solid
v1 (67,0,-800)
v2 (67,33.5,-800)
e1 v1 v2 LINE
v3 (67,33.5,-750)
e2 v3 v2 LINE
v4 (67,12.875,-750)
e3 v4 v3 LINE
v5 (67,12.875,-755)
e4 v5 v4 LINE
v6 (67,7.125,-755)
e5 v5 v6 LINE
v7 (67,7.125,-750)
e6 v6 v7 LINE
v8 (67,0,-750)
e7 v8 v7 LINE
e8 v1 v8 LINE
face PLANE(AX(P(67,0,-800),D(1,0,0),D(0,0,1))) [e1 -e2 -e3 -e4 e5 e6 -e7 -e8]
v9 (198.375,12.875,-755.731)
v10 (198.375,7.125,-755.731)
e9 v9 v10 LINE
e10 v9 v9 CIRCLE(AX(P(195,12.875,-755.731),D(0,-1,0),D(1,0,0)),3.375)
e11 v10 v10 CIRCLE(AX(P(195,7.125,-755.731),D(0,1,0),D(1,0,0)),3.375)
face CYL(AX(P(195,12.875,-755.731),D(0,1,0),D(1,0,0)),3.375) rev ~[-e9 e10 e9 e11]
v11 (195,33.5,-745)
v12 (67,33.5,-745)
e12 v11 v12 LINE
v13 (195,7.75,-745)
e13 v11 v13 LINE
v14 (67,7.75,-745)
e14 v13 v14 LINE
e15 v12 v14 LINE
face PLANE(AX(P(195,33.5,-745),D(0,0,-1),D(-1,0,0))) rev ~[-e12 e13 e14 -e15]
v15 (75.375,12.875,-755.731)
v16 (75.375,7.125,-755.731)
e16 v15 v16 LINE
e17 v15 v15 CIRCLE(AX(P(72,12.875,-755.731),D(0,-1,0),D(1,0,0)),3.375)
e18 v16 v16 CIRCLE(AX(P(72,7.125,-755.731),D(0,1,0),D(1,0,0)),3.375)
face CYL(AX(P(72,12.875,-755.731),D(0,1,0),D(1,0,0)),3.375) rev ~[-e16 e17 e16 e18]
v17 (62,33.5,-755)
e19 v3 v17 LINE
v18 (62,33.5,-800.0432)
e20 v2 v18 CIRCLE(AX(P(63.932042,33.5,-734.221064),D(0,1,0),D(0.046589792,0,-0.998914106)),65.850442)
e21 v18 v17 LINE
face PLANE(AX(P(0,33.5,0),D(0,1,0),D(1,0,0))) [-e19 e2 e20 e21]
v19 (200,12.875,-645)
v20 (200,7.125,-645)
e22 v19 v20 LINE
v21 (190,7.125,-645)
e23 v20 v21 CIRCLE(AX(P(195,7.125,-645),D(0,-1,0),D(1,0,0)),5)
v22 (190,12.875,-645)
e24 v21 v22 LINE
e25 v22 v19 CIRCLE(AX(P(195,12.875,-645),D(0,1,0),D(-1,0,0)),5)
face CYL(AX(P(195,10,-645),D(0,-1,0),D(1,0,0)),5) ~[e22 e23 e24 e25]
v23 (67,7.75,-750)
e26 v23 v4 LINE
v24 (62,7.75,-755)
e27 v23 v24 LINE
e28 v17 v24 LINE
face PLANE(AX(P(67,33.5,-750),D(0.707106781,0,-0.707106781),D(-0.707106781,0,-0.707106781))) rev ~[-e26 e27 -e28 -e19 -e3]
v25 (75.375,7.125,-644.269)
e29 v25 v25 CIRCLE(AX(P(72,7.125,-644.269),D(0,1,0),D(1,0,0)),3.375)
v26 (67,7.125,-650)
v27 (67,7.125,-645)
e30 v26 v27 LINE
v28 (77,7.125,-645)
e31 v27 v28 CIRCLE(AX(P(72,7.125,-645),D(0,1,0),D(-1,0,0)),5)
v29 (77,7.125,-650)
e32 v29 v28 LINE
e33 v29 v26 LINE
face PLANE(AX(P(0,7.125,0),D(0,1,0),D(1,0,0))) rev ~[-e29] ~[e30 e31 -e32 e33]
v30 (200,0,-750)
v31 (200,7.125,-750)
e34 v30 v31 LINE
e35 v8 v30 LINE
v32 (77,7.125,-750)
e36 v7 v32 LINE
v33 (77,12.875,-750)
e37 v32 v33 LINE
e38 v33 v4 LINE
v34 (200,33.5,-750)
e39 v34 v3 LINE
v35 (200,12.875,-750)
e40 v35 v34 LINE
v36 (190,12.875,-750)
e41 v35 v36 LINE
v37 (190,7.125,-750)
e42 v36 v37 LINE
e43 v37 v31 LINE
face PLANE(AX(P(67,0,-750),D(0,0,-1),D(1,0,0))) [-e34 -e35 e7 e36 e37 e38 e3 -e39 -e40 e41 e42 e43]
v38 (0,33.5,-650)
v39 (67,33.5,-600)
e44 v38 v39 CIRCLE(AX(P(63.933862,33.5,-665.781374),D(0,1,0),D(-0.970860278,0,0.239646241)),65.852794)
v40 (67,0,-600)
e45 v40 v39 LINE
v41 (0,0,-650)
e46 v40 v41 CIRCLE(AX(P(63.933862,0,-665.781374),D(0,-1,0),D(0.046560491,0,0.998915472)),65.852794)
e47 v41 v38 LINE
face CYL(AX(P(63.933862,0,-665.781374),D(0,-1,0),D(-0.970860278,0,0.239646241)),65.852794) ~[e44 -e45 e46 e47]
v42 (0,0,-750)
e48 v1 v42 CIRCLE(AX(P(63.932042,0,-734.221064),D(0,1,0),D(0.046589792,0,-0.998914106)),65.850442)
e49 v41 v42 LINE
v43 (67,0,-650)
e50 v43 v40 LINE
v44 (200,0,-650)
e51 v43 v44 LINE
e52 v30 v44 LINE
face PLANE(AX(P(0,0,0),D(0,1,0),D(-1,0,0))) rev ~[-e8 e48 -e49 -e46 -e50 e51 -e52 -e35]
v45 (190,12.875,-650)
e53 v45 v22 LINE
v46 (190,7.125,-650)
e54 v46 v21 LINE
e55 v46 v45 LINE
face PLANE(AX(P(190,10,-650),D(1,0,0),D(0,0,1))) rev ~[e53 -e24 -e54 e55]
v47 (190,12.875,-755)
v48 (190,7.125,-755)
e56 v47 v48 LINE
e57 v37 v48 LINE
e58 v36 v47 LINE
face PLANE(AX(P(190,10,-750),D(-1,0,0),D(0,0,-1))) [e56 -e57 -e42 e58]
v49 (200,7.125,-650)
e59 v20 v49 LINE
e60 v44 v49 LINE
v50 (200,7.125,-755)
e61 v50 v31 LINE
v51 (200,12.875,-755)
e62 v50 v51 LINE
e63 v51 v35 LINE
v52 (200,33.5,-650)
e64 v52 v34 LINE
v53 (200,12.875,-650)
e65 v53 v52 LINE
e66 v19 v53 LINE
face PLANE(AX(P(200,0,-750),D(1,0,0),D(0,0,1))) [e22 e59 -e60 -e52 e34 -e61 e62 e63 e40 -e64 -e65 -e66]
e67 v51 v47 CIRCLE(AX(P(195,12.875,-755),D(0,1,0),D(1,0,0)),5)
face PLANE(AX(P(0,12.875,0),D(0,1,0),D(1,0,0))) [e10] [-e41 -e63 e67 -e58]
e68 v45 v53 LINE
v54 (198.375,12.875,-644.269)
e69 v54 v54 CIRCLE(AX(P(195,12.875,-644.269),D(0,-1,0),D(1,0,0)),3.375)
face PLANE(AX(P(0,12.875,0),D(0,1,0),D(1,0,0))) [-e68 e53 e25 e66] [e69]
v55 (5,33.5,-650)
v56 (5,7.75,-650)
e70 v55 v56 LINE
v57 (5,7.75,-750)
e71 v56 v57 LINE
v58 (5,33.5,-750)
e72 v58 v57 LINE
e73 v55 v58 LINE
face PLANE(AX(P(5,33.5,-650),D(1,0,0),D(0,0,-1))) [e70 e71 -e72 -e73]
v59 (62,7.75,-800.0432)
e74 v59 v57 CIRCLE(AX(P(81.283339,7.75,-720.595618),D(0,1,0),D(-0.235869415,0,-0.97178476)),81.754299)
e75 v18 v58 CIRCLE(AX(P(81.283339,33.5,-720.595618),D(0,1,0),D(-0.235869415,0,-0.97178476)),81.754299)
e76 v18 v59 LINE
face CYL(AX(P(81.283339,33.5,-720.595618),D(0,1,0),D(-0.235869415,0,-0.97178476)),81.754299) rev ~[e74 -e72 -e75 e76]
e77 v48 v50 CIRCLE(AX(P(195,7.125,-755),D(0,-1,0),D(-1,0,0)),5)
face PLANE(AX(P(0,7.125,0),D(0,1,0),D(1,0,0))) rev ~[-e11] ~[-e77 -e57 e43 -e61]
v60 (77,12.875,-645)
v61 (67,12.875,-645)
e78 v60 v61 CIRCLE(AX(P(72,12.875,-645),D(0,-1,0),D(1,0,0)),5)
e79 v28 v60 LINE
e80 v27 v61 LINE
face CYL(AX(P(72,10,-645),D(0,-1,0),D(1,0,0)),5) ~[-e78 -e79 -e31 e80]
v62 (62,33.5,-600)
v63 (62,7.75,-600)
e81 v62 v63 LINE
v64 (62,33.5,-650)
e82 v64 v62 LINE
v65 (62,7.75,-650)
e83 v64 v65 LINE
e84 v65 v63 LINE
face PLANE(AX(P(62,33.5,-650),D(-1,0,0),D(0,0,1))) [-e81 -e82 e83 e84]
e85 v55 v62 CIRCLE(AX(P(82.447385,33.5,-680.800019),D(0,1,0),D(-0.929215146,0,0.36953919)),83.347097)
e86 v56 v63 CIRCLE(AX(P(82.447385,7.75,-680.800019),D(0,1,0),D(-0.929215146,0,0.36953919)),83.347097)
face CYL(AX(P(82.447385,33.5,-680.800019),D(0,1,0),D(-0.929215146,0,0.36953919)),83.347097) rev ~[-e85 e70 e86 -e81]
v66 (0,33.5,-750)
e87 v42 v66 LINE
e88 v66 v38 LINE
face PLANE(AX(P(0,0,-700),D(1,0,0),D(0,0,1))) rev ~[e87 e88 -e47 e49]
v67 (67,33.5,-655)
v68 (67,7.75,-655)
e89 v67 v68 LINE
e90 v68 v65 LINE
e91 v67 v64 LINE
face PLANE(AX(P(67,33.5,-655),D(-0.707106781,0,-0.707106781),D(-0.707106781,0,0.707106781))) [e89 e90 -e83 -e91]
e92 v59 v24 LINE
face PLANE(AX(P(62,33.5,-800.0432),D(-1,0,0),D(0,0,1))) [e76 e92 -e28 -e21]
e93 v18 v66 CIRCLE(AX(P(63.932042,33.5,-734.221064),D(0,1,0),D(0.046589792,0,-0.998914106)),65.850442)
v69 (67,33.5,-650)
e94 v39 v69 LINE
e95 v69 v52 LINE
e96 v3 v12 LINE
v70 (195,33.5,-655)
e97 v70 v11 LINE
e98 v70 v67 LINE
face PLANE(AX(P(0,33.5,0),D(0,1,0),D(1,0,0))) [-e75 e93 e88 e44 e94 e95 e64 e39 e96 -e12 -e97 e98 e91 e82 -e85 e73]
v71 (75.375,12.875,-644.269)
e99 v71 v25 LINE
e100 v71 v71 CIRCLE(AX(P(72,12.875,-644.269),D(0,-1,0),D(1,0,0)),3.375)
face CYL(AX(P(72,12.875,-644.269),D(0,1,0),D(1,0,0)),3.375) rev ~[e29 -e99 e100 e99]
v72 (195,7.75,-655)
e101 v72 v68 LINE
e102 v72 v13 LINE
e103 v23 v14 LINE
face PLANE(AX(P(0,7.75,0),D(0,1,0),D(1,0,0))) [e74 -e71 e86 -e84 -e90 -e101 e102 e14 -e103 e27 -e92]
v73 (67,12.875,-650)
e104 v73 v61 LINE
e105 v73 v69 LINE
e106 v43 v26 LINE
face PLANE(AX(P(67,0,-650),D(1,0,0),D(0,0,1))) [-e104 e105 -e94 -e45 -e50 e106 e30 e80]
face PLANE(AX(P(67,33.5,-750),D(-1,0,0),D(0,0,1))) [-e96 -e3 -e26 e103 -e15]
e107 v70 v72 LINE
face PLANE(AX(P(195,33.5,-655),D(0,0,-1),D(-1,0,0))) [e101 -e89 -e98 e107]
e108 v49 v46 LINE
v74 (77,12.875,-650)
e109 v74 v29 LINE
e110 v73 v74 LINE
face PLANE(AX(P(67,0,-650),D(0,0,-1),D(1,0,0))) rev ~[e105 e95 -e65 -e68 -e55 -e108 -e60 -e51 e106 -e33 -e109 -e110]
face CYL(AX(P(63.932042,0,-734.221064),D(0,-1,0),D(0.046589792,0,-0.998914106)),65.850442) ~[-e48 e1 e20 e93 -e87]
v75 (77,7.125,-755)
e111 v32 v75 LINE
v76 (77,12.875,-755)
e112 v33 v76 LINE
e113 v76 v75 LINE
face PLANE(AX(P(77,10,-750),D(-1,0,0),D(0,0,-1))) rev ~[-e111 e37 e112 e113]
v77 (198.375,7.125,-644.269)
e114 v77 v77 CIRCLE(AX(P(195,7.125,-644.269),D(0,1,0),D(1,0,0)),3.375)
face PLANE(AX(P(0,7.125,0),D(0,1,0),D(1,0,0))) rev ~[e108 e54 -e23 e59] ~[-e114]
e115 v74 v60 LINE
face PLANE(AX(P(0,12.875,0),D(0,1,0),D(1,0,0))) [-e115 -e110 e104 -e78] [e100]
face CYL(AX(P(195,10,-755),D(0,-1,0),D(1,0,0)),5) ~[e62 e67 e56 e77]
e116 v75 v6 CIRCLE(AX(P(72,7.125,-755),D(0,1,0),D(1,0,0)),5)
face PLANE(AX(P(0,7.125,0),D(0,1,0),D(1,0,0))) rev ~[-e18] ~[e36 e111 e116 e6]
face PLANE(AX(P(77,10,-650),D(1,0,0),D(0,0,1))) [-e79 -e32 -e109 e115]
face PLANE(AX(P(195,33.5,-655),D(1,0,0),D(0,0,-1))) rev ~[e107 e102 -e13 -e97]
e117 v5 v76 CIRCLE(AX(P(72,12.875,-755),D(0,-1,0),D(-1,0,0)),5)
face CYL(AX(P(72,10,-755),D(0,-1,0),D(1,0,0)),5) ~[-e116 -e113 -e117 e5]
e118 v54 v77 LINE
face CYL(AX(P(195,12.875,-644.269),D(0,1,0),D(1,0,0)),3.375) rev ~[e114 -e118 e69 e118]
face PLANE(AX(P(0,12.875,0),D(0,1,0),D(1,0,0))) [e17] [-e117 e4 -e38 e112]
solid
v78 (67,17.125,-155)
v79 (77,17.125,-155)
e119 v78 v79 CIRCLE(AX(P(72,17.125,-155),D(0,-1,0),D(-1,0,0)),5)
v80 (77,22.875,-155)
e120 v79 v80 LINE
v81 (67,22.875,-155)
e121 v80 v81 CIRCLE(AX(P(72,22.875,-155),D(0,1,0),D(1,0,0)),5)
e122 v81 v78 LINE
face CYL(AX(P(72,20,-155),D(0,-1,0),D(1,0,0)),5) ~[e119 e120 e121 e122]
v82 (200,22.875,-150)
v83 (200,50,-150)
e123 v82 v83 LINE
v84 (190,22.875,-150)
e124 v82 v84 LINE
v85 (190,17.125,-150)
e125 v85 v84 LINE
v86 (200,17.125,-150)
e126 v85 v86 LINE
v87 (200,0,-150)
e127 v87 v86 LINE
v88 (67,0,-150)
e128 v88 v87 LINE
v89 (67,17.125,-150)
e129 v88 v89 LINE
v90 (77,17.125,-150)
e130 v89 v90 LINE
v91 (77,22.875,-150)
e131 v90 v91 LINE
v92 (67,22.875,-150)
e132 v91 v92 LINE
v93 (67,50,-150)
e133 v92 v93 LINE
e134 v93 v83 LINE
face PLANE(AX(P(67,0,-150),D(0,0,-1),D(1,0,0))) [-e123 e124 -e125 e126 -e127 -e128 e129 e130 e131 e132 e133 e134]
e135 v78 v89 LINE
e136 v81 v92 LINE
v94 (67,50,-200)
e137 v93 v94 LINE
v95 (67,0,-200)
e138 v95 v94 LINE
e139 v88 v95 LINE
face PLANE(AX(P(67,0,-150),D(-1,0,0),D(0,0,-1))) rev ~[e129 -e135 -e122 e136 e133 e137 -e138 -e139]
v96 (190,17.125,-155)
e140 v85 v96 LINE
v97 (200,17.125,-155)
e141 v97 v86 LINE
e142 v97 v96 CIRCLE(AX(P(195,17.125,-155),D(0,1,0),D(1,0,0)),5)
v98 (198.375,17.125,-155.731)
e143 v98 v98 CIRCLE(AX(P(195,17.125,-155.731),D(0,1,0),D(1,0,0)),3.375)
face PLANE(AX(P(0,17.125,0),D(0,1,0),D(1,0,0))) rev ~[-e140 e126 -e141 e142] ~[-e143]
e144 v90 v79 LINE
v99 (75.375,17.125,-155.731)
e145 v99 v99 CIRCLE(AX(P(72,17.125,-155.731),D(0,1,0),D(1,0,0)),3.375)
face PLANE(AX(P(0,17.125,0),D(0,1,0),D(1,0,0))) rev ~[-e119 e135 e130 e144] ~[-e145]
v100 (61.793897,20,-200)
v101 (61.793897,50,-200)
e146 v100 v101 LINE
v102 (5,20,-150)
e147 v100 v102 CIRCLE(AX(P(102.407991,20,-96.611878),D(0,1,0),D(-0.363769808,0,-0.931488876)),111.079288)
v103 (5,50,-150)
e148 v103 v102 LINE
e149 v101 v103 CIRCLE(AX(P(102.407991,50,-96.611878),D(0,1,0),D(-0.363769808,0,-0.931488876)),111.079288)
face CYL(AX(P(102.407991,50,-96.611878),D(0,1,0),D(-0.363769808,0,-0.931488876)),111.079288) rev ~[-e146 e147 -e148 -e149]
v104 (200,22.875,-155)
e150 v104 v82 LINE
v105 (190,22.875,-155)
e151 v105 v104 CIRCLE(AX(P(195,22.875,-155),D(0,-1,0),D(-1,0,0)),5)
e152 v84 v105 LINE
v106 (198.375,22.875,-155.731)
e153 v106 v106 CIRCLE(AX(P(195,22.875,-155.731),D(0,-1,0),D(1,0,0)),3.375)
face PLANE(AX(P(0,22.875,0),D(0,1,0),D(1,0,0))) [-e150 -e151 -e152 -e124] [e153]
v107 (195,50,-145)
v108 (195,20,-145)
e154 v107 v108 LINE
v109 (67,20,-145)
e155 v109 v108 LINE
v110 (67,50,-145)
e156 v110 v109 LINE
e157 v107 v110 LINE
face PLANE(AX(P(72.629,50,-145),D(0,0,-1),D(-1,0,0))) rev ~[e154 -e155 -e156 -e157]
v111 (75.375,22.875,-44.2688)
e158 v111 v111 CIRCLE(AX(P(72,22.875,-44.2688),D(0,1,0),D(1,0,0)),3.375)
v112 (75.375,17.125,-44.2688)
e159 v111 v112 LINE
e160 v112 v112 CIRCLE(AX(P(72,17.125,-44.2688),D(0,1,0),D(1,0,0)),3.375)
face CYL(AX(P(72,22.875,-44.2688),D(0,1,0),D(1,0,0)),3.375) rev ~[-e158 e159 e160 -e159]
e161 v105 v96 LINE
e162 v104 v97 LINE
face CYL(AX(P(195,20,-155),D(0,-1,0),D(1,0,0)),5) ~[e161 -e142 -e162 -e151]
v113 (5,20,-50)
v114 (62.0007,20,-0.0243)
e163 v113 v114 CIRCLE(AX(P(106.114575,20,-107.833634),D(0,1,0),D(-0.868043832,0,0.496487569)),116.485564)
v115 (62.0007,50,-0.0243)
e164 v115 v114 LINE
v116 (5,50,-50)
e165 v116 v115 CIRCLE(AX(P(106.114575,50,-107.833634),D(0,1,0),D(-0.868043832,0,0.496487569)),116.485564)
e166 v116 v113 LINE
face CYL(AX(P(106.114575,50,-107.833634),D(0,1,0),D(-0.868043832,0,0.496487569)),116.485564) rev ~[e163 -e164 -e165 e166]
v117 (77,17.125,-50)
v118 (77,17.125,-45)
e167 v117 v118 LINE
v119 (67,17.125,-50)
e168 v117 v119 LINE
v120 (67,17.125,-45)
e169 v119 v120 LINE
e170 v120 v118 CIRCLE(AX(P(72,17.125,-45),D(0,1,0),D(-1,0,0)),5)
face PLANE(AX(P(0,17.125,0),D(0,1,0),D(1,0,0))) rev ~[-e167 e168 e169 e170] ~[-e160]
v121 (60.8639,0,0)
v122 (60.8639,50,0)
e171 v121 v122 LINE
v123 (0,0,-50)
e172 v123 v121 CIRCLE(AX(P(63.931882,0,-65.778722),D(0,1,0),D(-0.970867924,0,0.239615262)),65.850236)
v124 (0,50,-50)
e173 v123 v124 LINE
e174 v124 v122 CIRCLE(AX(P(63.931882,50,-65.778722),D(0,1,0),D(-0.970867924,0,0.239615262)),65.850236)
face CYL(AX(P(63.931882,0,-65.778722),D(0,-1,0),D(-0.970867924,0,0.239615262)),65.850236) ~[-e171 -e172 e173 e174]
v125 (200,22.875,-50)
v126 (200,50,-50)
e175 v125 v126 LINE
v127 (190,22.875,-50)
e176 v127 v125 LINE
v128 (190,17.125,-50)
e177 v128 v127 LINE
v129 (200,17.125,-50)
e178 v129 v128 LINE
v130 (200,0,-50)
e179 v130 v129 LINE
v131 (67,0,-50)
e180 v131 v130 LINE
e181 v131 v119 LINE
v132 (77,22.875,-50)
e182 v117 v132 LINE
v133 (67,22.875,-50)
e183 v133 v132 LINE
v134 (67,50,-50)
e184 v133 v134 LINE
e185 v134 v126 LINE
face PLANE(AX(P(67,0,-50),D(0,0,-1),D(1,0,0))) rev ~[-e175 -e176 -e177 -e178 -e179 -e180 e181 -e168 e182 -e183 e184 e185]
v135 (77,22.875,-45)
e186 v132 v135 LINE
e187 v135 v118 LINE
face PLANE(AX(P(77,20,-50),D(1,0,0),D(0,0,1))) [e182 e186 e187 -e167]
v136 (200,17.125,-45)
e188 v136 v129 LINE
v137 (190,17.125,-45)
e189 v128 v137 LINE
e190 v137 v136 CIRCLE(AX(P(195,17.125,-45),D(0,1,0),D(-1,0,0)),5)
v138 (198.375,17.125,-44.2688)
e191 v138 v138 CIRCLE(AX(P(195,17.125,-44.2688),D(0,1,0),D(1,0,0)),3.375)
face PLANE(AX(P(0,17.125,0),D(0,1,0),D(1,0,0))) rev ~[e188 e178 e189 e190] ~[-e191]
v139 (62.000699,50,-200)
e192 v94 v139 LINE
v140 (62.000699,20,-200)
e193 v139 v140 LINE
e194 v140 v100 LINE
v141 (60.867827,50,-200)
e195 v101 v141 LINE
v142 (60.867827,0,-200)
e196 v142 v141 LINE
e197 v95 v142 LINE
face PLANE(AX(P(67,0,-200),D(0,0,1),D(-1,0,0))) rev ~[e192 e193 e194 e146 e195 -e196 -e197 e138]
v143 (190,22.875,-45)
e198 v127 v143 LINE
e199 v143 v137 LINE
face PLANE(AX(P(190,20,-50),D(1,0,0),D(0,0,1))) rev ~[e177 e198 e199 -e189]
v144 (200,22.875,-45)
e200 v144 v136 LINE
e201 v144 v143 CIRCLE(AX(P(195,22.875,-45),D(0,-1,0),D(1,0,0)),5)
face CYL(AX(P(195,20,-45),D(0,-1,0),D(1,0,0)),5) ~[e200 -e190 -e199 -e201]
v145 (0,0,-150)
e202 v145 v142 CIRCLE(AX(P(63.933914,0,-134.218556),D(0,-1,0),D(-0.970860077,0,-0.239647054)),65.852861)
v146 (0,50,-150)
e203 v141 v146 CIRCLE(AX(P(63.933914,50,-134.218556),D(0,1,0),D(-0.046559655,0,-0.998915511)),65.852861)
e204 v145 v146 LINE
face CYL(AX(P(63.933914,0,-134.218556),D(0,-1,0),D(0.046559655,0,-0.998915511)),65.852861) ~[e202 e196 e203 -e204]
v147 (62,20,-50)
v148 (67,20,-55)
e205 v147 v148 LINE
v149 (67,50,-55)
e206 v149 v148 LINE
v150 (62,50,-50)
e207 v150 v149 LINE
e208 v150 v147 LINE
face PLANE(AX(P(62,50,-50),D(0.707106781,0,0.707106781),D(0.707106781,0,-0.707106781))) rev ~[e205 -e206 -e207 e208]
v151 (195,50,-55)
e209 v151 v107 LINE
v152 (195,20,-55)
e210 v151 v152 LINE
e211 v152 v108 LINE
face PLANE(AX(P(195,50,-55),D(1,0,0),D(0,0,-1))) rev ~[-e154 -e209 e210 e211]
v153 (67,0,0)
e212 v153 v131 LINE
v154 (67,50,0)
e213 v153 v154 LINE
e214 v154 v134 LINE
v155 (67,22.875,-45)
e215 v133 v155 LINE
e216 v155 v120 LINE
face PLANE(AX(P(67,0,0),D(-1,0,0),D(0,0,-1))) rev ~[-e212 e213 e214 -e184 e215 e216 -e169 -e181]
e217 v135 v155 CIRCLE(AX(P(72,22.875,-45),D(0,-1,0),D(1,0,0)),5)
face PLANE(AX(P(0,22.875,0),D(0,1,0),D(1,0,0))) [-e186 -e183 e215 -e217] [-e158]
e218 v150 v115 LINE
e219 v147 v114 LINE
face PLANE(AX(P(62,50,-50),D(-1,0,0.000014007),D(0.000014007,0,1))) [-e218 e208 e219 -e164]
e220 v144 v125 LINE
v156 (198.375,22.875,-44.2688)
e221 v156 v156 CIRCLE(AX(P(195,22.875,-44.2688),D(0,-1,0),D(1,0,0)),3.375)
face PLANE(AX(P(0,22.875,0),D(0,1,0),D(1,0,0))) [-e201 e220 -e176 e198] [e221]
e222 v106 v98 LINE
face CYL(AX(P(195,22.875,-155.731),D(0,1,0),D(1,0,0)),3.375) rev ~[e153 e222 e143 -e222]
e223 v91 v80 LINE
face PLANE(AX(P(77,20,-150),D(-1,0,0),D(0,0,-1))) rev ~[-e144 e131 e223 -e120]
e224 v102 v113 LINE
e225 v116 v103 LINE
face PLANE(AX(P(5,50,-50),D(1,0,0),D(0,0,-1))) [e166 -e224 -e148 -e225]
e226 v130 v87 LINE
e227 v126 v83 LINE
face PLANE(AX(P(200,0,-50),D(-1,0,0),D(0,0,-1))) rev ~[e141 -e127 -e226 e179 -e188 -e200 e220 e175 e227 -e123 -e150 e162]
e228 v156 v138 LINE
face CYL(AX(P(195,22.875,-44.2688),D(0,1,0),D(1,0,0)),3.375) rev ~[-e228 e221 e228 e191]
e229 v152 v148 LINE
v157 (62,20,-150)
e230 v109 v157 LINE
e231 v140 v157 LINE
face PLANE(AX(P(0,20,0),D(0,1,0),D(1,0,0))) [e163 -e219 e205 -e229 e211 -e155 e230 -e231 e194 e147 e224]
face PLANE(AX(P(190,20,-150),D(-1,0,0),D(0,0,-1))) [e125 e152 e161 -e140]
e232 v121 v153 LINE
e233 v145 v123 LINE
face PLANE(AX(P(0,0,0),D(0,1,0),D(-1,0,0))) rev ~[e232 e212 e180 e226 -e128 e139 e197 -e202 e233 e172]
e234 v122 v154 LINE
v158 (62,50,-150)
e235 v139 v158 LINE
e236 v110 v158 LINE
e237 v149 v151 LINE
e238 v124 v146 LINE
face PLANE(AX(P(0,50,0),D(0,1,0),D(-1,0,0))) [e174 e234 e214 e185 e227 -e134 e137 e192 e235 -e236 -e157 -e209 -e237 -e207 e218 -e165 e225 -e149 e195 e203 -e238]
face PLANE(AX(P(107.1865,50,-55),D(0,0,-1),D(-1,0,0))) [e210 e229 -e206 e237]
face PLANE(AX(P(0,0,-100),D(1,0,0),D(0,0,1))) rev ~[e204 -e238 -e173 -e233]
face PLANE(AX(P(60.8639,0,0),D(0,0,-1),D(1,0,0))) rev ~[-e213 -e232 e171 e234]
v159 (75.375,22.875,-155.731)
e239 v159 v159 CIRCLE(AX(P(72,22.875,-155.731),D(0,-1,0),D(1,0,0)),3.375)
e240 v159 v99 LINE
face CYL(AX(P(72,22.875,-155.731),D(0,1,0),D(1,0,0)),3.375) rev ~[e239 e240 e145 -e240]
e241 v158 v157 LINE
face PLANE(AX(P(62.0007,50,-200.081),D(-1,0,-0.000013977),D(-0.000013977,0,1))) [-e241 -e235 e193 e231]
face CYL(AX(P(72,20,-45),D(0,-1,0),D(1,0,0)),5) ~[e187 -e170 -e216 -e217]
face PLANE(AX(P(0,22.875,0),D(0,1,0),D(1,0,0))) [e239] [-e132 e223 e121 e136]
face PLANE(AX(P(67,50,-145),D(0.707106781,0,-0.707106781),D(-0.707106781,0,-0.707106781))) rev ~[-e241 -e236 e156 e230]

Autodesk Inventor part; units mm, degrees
ref_plane "YZ Plane" through (0, 0, 0) normal (1, 0, 0) x (0, 1, 0)
ref_plane "XZ Plane" through (0, 0, 0) normal (0, 1, 0) x (-1, 0, 0)
ref_plane "XY Plane" through (0, 0, 0) normal (0, 0, 1) x (1, 0, 0)
sketch "Sketch1" plane through (0, 0, 0) normal (0, 1, 0) x (-1, 0, 0)
  line L0 (-60.8639, 0) -> (-200, 0)
  line L1 (-200, 0) -> (-200, -200)
  line L2 (-200, -200) -> (0, -200)
  line L3 (0, -200) -> (0, 0)
  line L4 (0, -200) -> (-200, -200)
  line L5 (-200, -200) -> (-200, -400)
  line L6 (-200, -400) -> (0, -400)
  line L7 (0, -400) -> (0, -200)
  line L8 (-60.8639, 0) -> (-67, 0)
  line L9 (0, -200) -> (0, -100)
  line L10 (0, -50) -> (0, -100)
  line L11 (0, -100) -> (0, -50)
  line L12 (0, -50) -> (0, -150)
  line L13 (0, -150) -> (-67, -150)
  line L14 (0, -50) -> (-67, -50)
  line L15 (-14.5617, -10.867) -> (0, 0)
  line L16 (-67, -150) -> (0, -200)
  arc A0 (0, -50) -> (-67, 0) centre (-63.932, -65.7788) ccw
  line L17 (0, -200) -> (15.754, -200)
  line L18 (15.754, -200) -> (0, -200)
  line L19 (0, -200) -> (0, -184.246)
  line L20 (0, -184.246) -> (-21.1104, -184.246)
  line L21 (-21.1104, -184.246) -> (-21.1104, -200)
  arc A1 (-67, -200) -> (0, -150) centre (-63.9339, -134.2186) ccw
  line L22 (-67, -50) -> (-200, -50)
  line L23 (-67, -150) -> (-200, -150)
  line L24 (-67, 0) -> (-67, -50)
  line L25 (-67, -150) -> (-67, -200)
  line L26 (-200, -800) -> (-200, -600)
  line L27 (0, -750) -> (0, -700)
  line L28 (0, -750) -> (0, -650)
  line L29 (0, -650) -> (-67, -650)
  line L30 (0, -750) -> (-67, -750)
  line L31 (-67, -650) -> (0, -600)
  arc A2 (-67, -800) -> (0, -750) centre (-63.932, -734.2212) ccw
  arc A3 (0, -650) -> (-67, -600) centre (-63.9339, -665.7814) ccw
  line L32 (-67, -750) -> (-200, -750)
  line L33 (-67, -650) -> (-200, -650)
  line L34 (-67, -800) -> (-67, -750)
  line L35 (-67, -650) -> (-67, -600)
  point P0 (-60.8677, -200)
  dimension "d0" = 200
  dimension "d1" = 200
  dimension "d2" = 200
  dimension "d3" = 200
  dimension "d4" = 67
  dimension "d5" = 100
  dimension "d6" = 50
  dimension "d7" = 100
  dimension "d8" = 15.754
  dimension "d9" = 15.754
extrude "Extrusion1" add sketch "Sketch1" along normal blind 50 contours A0 L14 L24 L0 | L3 L13 L23 L1 L22 L14 | A1 L16 L13 | L16 A1 L2 L25 | L26 L33 L29 L28 L27 L30 L32 | L30 A2 L34 | L31 A3 L29 | L35 A3 L31
sketch "Sketch2" plane through (0, 50, 0) normal (0, 1, 0) x (1, 0, 0)
  line L0 (67, 50) -> (200, 50) projected
  line L1 (200, 50) -> (200, 150)
  line L2 (200, 150) -> (67, 150)
  line L3 (67, 150) -> (67, 199.2984)
  line L4 (67, 199.2984) -> (67, 200.0458)
  line L5 (0, 150) -> (0, 50) projected
  line L6 (0, 50) -> (0, 150)
  line L7 (67, 50) -> (200, 50)
  arc A0 (0, 50) -> (63.932, 0) centre (63.792, 65.694) ccw
  arc A1 (60.8677, 200) -> (0, 150) centre (63.9339, 134.2186) ccw projected
  arc A2 (67, 200.0458) -> (0, 150) centre (64.0367, 134.1412) ccw
  line L8 (107.1865, 50) -> (107.1865, 55)
  line L9 (107.1865, 55) -> (67, 55)
  line L10 (200, 55) -> (195, 55)
  line L11 (195, 150) -> (195, 145)
  line L12 (195, 145) -> (67, 145)
  line L13 (67, 145) -> (67, 55)
  line L14 (67, 55) -> (195, 55)
  line L15 (195, 55) -> (195, 145)
  line L16 (0, 102.5601) -> (5, 102.5601)
  line L17 (5, 102.5601) -> (5, 150)
  line L18 (67, 150) -> (67, 200) projected
  line L19 (67, 150) -> (62, 150)
  line L20 (62, 150) -> (5, 150)
  line L21 (62, 150) -> (62, 145)
  line L22 (62, 145) -> (72.629, 145)
  line L23 (67, 50) -> (62, 50)
  line L24 (62, 50) -> (62, 55)
  line L25 (62, 50) -> (5, 50)
  line L26 (5, 50) -> (5, 104.6986)
  line L27 (67, 55) -> (62, 55)
  line L28 (62, 50) -> (67, 55)
  line L29 (67, 145) -> (62, 150)
  line L30 (67, 200) -> (62.0007, 200.081)
  line L31 (62.0007, 200.081) -> (62, 150)
  arc A3 (62.0007, 200.081) -> (5, 150) centre (102.4081, 96.6117) ccw
  line L32 (62.0007, 50.0007) -> (62.0007, 0.0243)
  arc A4 (5, 50) -> (62.0007, 0.0243) centre (106.1149, 107.8339) ccw
  point P0 (0, 0)
  point P1 (62.0007, 50)
  dimension "d12" = 5
  dimension "d13" = 5
  dimension "d14" = 5
  dimension "d15" = 5
  dimension "d16" = 5
  dimension "d17" = 5
  dimension "d18" = 5
extrude "Extrusion2" cut sketch "Sketch2" against normal blind 30 contours L25 L26 L17 L20 L21 L22 L13 L27 L24 | L32 A4 L25 | L24 L27 L28 | L9 L13 L12 L15 L14 | L22 L21 L29 | L20 A3 L31
ref_plane "Work Plane1" through (0, 10, 0) normal (0, 1, 0) x (1, 0, 0)
sketch "Sketch3" plane through (0, 20, 0) normal (0, 1, 0) x (1, 0, 0)
  line L0 (67, 150) -> (200, 150) projected
  line L1 (200, 150) -> (200, 50) projected
  line L2 (200, 50) -> (67, 50) projected
  line L3 (67, 50) -> (67, 0) projected
  line L4 (67, 0) -> (60.8639, 0) projected
  arc A0 (0, 50) -> (60.8639, 0) centre (63.932, 65.7788) ccw projected
  line L5 (0, 50) -> (0, 150) projected
  arc A1 (60.8677, 200) -> (0, 150) centre (63.9339, 134.2186) ccw projected
  line L6 (60.8677, 200) -> (61.7939, 200) projected
  arc A2 (61.7939, 200) -> (5, 150) centre (102.4081, 96.6117) ccw projected
  line L7 (5, 150) -> (5, 50) projected
  arc A3 (5, 50) -> (62.0007, 0.0243) centre (106.1149, 107.8339) ccw projected
  line L8 (62.0007, 0.0243) -> (62.0007, 50) projected
  line L9 (62.0007, 50) -> (62, 50) projected
  line L10 (62, 50) -> (67, 55) projected
  line L11 (67, 55) -> (195, 55) projected
  line L12 (195, 55) -> (195, 145) projected
  line L13 (195, 145) -> (67, 145) projected
  line L14 (67, 145) -> (62, 150) projected
  line L15 (62, 150) -> (62.0007, 200) projected
  line L16 (61.7939, 200) -> (62.0007, 200) projected
  line L17 (67, 200) -> (67, 150) projected
  line L18 (62.0007, 200) -> (67, 200) projected
  arc A4 (0, 650) -> (67, 600) centre (63.9339, 665.7814) ccw projected
  line L19 (0, 650) -> (0, 750) projected
  arc A5 (67, 800) -> (0, 750) centre (63.932, 734.2212) ccw projected
  line L20 (67, 800) -> (67, 750) projected
  line L21 (67, 750) -> (200, 750) projected
  line L22 (200, 750) -> (200, 650) projected
  line L23 (200, 650) -> (67, 650) projected
  line L24 (67, 650) -> (67, 600) projected
  line L25 (67, 150) -> (200, 150) projected
  line L26 (200, 150) -> (200, 50) projected
  line L27 (200, 50) -> (67, 50) projected
  line L28 (67, 50) -> (67, 0) projected
  line L29 (67, 0) -> (60.8639, 0) projected
  arc A6 (0, 50) -> (60.8639, 0) centre (63.932, 65.7788) ccw projected
  line L30 (0, 50) -> (0, 150) projected
  arc A7 (60.8677, 200) -> (0, 150) centre (63.9339, 134.2186) ccw projected
  line L31 (60.8677, 200) -> (61.7939, 200) projected
  arc A8 (61.7939, 200) -> (5, 150) centre (102.4081, 96.6117) ccw projected
  line L32 (5, 150) -> (5, 50) projected
  arc A9 (5, 50) -> (62.0007, 0.0243) centre (106.1149, 107.8339) ccw projected
  line L33 (62.0007, 0.0243) -> (62.0007, 50) projected
  line L34 (62.0007, 50) -> (62, 50) projected
  line L35 (62, 50) -> (67, 55) projected
  line L36 (67, 55) -> (195, 55) projected
  line L37 (195, 55) -> (195, 145) projected
  line L38 (195, 145) -> (67, 145) projected
  line L39 (67, 145) -> (62, 150) projected
  line L40 (62, 150) -> (62.0007, 200) projected
  line L41 (61.7939, 200) -> (62.0007, 200) projected
  line L42 (67, 200) -> (67, 150) projected
  line L43 (62.0007, 200) -> (67, 200) projected
  arc A10 (0, 650) -> (67, 600) centre (63.9339, 665.7814) ccw projected
  line L44 (0, 650) -> (0, 750) projected
  arc A11 (67, 800) -> (0, 750) centre (63.932, 734.2212) ccw projected
  line L45 (67, 800) -> (67, 750) projected
  line L46 (67, 750) -> (200, 750) projected
  line L47 (200, 750) -> (200, 650) projected
  line L48 (200, 650) -> (67, 650) projected
  line L49 (67, 650) -> (67, 600) projected
  line L50 (67, 50) -> (200, 50) projected
  line L51 (67, 50) -> (77, 50)
  line L52 (77, 50) -> (77, 40)
  line L53 (77, 40) -> (67, 40)
  line L54 (67, 40) -> (67, 50)
  line L55 (200, 50) -> (190, 50)
  line L56 (190, 50) -> (190, 40)
  line L57 (190, 40) -> (200, 40)
  line L58 (200, 40) -> (200, 50)
  line L59 (200, 50) -> (200, 150) projected
  line L60 (200, 150) -> (190, 150)
  line L61 (190, 150) -> (190, 160)
  line L62 (190, 160) -> (200, 160)
  line L63 (200, 160) -> (200, 150)
  line L64 (67, 150) -> (77, 150)
  line L65 (77, 150) -> (77, 160)
  line L66 (77, 160) -> (67, 160)
  line L67 (67, 160) -> (67, 150)
  circle A12 centre (72, 45) radius 5
  circle A13 centre (195, 45) radius 5
  circle A14 centre (195, 155) radius 5
  circle A15 centre (72, 155) radius 5
  point P0 (0, 0)
  point P1 (67, 45)
  point P2 (77, 45)
  point P3 (190, 45)
  point P4 (200, 45)
  point P5 (190, 155)
  point P6 (200, 155)
  point P7 (77, 155)
  point P8 (67, 155)
  dimension "d21" = 10
  dimension "d22" = 10
  dimension "d23" = 10
  dimension "d24" = 10
  dimension "d25" = 10
  dimension "d26" = 10
  dimension "d27" = 10
extrude "Extrusion3" add sketch "Sketch3" along normal mid plane 5.75 contours L0 A15 L65 | L61 A14 L0 | L0 L17 A15 | A15 | A14 L63 L0 | A14 | L58 A13 L2 | A13 L56 L2 | A13 | L52 A12 L2 | A12 L3 L2 | A12
sketch "Sketch4" plane through (0, 22.875, 0) normal (0, 1, 0) x (1, 0, 0)
  circle A0 centre (72, 44.2688) radius 3.375
  arc A1 (190, 45) -> (200, 45) centre (195, 45) ccw projected
  line L0 (195, 40) -> (195, 44.2688)
  circle A2 centre (195, 44.2688) radius 3.375
  arc A3 (200, 155) -> (190, 155) centre (195, 155) ccw projected
  line L1 (195, 160) -> (195, 155.731)
  circle A4 centre (195, 155.731) radius 2.875
  circle A5 centre (195, 155.731) radius 3.375
  arc A6 (77, 155) -> (67, 155) centre (72, 155) ccw projected
  line L2 (72, 160) -> (72, 155.731)
  circle A7 centre (72, 155.731) radius 3.375
  point P0 (0, 0)
  dimension "d30" = 6.75
  dimension "d31" = 4.269
  dimension "d32" = 5.75
  dimension "d33" = 6.75
extrude "Extrusion4" cut sketch "Sketch4" against normal blind 5.75 contours A0 | A2 | A4 | A5 | A7
thread "Thread1" size "M7x1" class "6H" standard "ANSI Metric M Profile" full length
thread "Thread2" size "M7x1" class "6H" standard "ANSI Metric M Profile" full length
thread "Thread3" size "M7x1" class "6H" standard "ANSI Metric M Profile" full length
thread "Thread4" size "M7x1" class "6H" standard "ANSI Metric M Profile" full length
sketch "Sketch5" plane through (0, 17.125, 0) normal (0, -1, 0) x (1, 0, 0)
  line L0 (200, -750) -> (67, -750)
  line L1 (67, -750) -> (200, -750)
  line L2 (200, -750) -> (200, -650.0001)
  line L3 (200, -650.0001) -> (67, -650.0001)
  line L4 (67, -600) -> (67, -650)
  line L5 (0, -750) -> (0, -650)
  arc A0 (67, -600) -> (0, -650) centre (63.2865, -664.914) ccw
  arc A1 (0, -750) -> (67, -800) centre (63.932, -734.2212) ccw
  arc A2 (0, -750) -> (67, -800) centre (63.932, -734.2212) ccw
  line L6 (0, -650) -> (0, -750)
  line L7 (67, -750) -> (67, -800)
  line L8 (67, -600) -> (67, -650)
  point P0 (0, 0)
sketch "Sketch6" plane through (0, 50, 0) normal (0, 1, 0) x (1, 0, 0)
  arc A0 (0, 650) -> (67, 600) centre (63.9339, 665.7814) ccw projected
  line L0 (0, 750) -> (0, 650) projected
  line L1 (0, 650) -> (0, 750)
  line L2 (67, 650) -> (200, 650) projected
  line L3 (67, 650) -> (200, 650)
  line L4 (200, 650) -> (200, 750)
  line L5 (200, 750) -> (67, 750)
  line L6 (67, 750) -> (67, 800)
  line L7 (67, 600) -> (67, 650) projected
  line L8 (67, 650) -> (67, 600)
  arc A1 (0, 650) -> (67, 600) centre (63.9339, 665.7814) ccw
  arc A2 (67, 800) -> (0, 750) centre (63.932, 734.2212) ccw projected
  arc A3 (67, 800) -> (0, 750) centre (63.932, 734.2212) ccw
  point P0 (0, 0)
  dimension "d44" = 50
extrude "Extrusion5" cut sketch "Sketch6" against normal blind 16.5
sketch "Sketch7" plane through (0, 33.5, 0) normal (0, 1, 0) x (1, 0, 0)
  line L0 (200, 750) -> (67, 750) projected
  line L1 (200, 750) -> (200, 745)
  line L2 (0, 750) -> (0, 650) projected
  line L3 (200, 745) -> (195, 745)
  line L4 (67, 650) -> (200, 650) projected
  line L5 (195, 650) -> (195, 655)
  line L6 (195, 655) -> (67, 655)
  line L7 (195, 655) -> (195, 745)
  line L8 (200, 650) -> (200, 750) projected
  line L9 (195, 745) -> (67, 745)
  line L10 (67, 745) -> (67, 655)
  line L11 (67, 800.7968) -> (62, 800.7968)
  line L12 (62, 800.7968) -> (62, 600)
  line L13 (67, 650) -> (67, 655)
  line L14 (67, 655) -> (62, 650)
  line L15 (67, 750) -> (62, 755)
  line L16 (0, 750) -> (5, 750)
  arc A0 (67, 800) -> (0, 750) centre (63.932, 734.2212) ccw projected
  line L17 (62, 800.0432) -> (65.8623, 800.1565)
  line L18 (65.8623, 800.1565) -> (67, 800)
  line L19 (67, 800) -> (62, 800.0432)
  line L20 (67, 800) -> (67, 750)
  line L21 (0, 750) -> (0, 650)
  line L22 (0, 650) -> (5, 650)
  line L23 (5, 650) -> (5, 750)
  arc A1 (62, 800.0432) -> (5, 750) centre (81.2834, 720.5955) ccw
  line L24 (62, 650) -> (62, 600)
  arc A2 (0, 650) -> (67, 600) centre (63.9339, 665.7814) ccw projected
  line L25 (62, 600) -> (67, 600)
  line L26 (67, 600) -> (67, 600)
  line L27 (67, 650) -> (67, 600)
  arc A3 (5, 650) -> (62, 600) centre (82.4475, 680.8001) ccw
  line L28 (67, 750) -> (67, 650)
  point P0 (0, 0)
  dimension "d47" = 5
  dimension "d48" = 5
  dimension "d49" = 5
  dimension "d50" = 5
  dimension "d51" = 5
extrude "Extrusion6" cut sketch "Sketch7" against normal blind 25.75 contours L28 L10 L14 L12 L15 | L12 A3 L23 A1 | L9 L7 L6 L10
sketch "Sketch8" plane through (0, 10, 0) normal (0, 1, 0) x (1, 0, 0)
  line L0 (61.7939, 200) -> (62.0007, 200) projected
  arc A0 (61.7939, 200) -> (5, 150) centre (102.4081, 96.6117) ccw projected
  line L1 (5, 50) -> (5, 150) projected
  arc A1 (5, 50) -> (62.0007, 0.0243) centre (106.1149, 107.8339) ccw projected
  line L2 (62.0007, 50) -> (62.0007, 0.0243) projected
  line L3 (62, 50) -> (62.0007, 50) projected
  line L4 (67, 55) -> (62, 50) projected
  line L5 (195, 55) -> (67, 55) projected
  line L6 (195, 145) -> (195, 55) projected
  line L7 (67, 145) -> (195, 145) projected
  line L8 (62, 150) -> (67, 145) projected
  line L9 (62.0007, 200) -> (62, 150) projected
  line L10 (67, 650) -> (67, 600) projected
  arc A2 (0, 650) -> (67, 600) centre (63.9339, 665.7814) ccw projected
  line L11 (0, 650) -> (0, 750) projected
  arc A3 (67, 800) -> (62, 800.0432) centre (63.932, 734.2212) ccw projected
  arc A4 (62, 800.0432) -> (5, 750) centre (81.2834, 720.5955) ccw projected
  line L12 (5, 750) -> (5, 650) projected
  arc A5 (5, 650) -> (62, 600) centre (82.4475, 680.8001) ccw projected
  line L13 (62, 600) -> (62, 650) projected
  line L14 (62, 650) -> (67, 655) projected
  line L15 (67, 655) -> (195, 655) projected
  line L16 (195, 655) -> (195, 745) projected
  line L17 (195, 745) -> (67, 745) projected
  line L18 (67, 745) -> (67, 750) projected
  line L19 (67, 800) -> (67, 750) projected
  arc A6 (62, 800.0432) -> (0, 750) centre (63.932, 734.2212) ccw projected
  line L20 (62, 755) -> (62, 800.0432) projected
  line L21 (67, 750) -> (62, 755) projected
  line L22 (67, 750) -> (200, 750) projected
  line L23 (200, 750) -> (200, 650) projected
  line L24 (200, 650) -> (67, 650) projected
  line L25 (67, 150) -> (200, 150) projected
  line L26 (200, 150) -> (200, 50) projected
  line L27 (200, 50) -> (67, 50) projected
  line L28 (67, 50) -> (67, 0) projected
  line L29 (67, 0) -> (60.8639, 0) projected
  arc A7 (0, 50) -> (60.8639, 0) centre (63.932, 65.7788) ccw projected
  line L30 (0, 50) -> (0, 150) projected
  arc A8 (60.8677, 200) -> (0, 150) centre (63.9339, 134.2186) ccw projected
  line L31 (60.8677, 200) -> (67, 200) projected
  line L32 (67, 200) -> (67, 150) projected
  line L33 (67, 650) -> (67, 600) projected
  arc A9 (0, 650) -> (67, 600) centre (63.9339, 665.7814) ccw projected
  line L34 (0, 650) -> (0, 750) projected
  arc A10 (67, 800) -> (62, 800.0432) centre (63.932, 734.2212) ccw projected
  arc A11 (62, 800.0432) -> (5, 750) centre (81.2834, 720.5955) ccw projected
  line L35 (5, 750) -> (5, 650) projected
  arc A12 (5, 650) -> (62, 600) centre (82.4475, 680.8001) ccw projected
  line L36 (62, 600) -> (62, 650) projected
  line L37 (62, 650) -> (67, 655) projected
  line L38 (67, 655) -> (195, 655) projected
  line L39 (195, 655) -> (195, 745) projected
  line L40 (195, 745) -> (67, 745) projected
  line L41 (67, 745) -> (67, 750) projected
  line L42 (67, 800) -> (67, 750) projected
  arc A13 (62, 800.0432) -> (0, 750) centre (63.932, 734.2212) ccw projected
  line L43 (62, 755) -> (62, 800.0432) projected
  line L44 (67, 750) -> (62, 755) projected
  line L45 (67, 750) -> (200, 750) projected
  line L46 (200, 750) -> (200, 650) projected
  line L47 (200, 650) -> (67, 650) projected
  line L48 (67, 150) -> (200, 150) projected
  line L49 (200, 150) -> (200, 50) projected
  line L50 (200, 50) -> (67, 50) projected
  line L51 (67, 50) -> (67, 0) projected
  line L52 (67, 0) -> (60.8639, 0) projected
  arc A14 (0, 50) -> (60.8639, 0) centre (63.932, 65.7788) ccw projected
  line L53 (0, 50) -> (0, 150) projected
  arc A15 (60.8677, 200) -> (0, 150) centre (63.9339, 134.2186) ccw projected
  line L54 (60.8677, 200) -> (67, 200) projected
  line L55 (67, 200) -> (67, 150) projected
  line L56 (67, 650) -> (77, 650)
  line L57 (77, 650) -> (77, 640)
  line L58 (77, 640) -> (67, 640)
  line L59 (67, 640) -> (67, 650)
  line L60 (200, 650) -> (190, 650)
  line L61 (190, 650) -> (190, 640)
  line L62 (190, 640) -> (200, 640)
  line L63 (200, 640) -> (200, 650)
  line L64 (67, 750) -> (77, 750)
  line L65 (77, 750) -> (77, 760)
  line L66 (77, 760) -> (67, 760)
  line L67 (67, 760) -> (67, 750)
  line L68 (200, 750) -> (190, 750)
  line L69 (190, 750) -> (190, 760)
  line L70 (190, 760) -> (200, 760)
  line L71 (200, 760) -> (200, 750)
  circle A16 centre (72, 755) radius 5
  circle A17 centre (195, 755) radius 5
  circle A18 centre (72, 645) radius 5
  circle A19 centre (195, 645) radius 5
  point P0 (0, 0)
  point P1 (77, 755)
  point P2 (67, 755)
  point P3 (200, 755)
  point P4 (190, 755)
  point P5 (190, 645)
  point P6 (200, 645)
  point P7 (67, 645)
  point P8 (77, 645)
  dimension "d54" = 10
  dimension "d55" = 10
  dimension "d56" = 10
  dimension "d57" = 10
  dimension "d58" = 10
  dimension "d59" = 10
extrude "Extrusion7" add sketch "Sketch8" along normal mid plane 5.75 contours L10 L24 A18 | A18 | L24 L57 A18 | L24 A19 L61 | L24 L63 A19 | A19 | L19 A16 L22 | A16 | A16 L65 L22 | L22 A17 L71 | L22 L69 A17 | A17
sketch "Sketch9" plane through (0, 12.875, 0) normal (0, 1, 0) x (1, 0, 0)
  arc A0 (67, 645) -> (77, 645) centre (72, 645) ccw projected
  line L0 (72, 640) -> (72, 644.269)
  circle A1 centre (72, 644.269) radius 3.375
  arc A2 (190, 645) -> (200, 645) centre (195, 645) ccw projected
  line L1 (195, 640) -> (195, 644.269)
  circle A3 centre (195, 644.269) radius 3.375
  arc A4 (200, 755) -> (190, 755) centre (195, 755) ccw projected
  line L2 (195, 760) -> (195, 755.731)
  circle A5 centre (195, 755.731) radius 3.375
  line L3 (72, 760) -> (72, 755.731)
  circle A6 centre (72, 755.731) radius 3.375
  point P0 (0, 0)
  dimension "d62" = 4.269
  dimension "d63" = 6.75
  dimension "d64" = 4.269
  dimension "d65" = 6.75
extrude "Extrusion8" cut sketch "Sketch9" against normal blind 5.75
thread "Thread5" size "M7x1" class "6H" standard "ANSI Metric M Profile" full length
thread "Thread6" size "M7x1" class "6H" standard "ANSI Metric M Profile" full length
thread "Thread7" size "M7x1" class "6H" standard "ANSI Metric M Profile" full length
thread "Thread8" size "M7x1" class "6H" standard "ANSI Metric M Profile" full length
sketch "Sketch10" plane through (200, 0, -150) normal (0, 0, -1) x (-1, 0, 0)
  point P0 (200, 0)
